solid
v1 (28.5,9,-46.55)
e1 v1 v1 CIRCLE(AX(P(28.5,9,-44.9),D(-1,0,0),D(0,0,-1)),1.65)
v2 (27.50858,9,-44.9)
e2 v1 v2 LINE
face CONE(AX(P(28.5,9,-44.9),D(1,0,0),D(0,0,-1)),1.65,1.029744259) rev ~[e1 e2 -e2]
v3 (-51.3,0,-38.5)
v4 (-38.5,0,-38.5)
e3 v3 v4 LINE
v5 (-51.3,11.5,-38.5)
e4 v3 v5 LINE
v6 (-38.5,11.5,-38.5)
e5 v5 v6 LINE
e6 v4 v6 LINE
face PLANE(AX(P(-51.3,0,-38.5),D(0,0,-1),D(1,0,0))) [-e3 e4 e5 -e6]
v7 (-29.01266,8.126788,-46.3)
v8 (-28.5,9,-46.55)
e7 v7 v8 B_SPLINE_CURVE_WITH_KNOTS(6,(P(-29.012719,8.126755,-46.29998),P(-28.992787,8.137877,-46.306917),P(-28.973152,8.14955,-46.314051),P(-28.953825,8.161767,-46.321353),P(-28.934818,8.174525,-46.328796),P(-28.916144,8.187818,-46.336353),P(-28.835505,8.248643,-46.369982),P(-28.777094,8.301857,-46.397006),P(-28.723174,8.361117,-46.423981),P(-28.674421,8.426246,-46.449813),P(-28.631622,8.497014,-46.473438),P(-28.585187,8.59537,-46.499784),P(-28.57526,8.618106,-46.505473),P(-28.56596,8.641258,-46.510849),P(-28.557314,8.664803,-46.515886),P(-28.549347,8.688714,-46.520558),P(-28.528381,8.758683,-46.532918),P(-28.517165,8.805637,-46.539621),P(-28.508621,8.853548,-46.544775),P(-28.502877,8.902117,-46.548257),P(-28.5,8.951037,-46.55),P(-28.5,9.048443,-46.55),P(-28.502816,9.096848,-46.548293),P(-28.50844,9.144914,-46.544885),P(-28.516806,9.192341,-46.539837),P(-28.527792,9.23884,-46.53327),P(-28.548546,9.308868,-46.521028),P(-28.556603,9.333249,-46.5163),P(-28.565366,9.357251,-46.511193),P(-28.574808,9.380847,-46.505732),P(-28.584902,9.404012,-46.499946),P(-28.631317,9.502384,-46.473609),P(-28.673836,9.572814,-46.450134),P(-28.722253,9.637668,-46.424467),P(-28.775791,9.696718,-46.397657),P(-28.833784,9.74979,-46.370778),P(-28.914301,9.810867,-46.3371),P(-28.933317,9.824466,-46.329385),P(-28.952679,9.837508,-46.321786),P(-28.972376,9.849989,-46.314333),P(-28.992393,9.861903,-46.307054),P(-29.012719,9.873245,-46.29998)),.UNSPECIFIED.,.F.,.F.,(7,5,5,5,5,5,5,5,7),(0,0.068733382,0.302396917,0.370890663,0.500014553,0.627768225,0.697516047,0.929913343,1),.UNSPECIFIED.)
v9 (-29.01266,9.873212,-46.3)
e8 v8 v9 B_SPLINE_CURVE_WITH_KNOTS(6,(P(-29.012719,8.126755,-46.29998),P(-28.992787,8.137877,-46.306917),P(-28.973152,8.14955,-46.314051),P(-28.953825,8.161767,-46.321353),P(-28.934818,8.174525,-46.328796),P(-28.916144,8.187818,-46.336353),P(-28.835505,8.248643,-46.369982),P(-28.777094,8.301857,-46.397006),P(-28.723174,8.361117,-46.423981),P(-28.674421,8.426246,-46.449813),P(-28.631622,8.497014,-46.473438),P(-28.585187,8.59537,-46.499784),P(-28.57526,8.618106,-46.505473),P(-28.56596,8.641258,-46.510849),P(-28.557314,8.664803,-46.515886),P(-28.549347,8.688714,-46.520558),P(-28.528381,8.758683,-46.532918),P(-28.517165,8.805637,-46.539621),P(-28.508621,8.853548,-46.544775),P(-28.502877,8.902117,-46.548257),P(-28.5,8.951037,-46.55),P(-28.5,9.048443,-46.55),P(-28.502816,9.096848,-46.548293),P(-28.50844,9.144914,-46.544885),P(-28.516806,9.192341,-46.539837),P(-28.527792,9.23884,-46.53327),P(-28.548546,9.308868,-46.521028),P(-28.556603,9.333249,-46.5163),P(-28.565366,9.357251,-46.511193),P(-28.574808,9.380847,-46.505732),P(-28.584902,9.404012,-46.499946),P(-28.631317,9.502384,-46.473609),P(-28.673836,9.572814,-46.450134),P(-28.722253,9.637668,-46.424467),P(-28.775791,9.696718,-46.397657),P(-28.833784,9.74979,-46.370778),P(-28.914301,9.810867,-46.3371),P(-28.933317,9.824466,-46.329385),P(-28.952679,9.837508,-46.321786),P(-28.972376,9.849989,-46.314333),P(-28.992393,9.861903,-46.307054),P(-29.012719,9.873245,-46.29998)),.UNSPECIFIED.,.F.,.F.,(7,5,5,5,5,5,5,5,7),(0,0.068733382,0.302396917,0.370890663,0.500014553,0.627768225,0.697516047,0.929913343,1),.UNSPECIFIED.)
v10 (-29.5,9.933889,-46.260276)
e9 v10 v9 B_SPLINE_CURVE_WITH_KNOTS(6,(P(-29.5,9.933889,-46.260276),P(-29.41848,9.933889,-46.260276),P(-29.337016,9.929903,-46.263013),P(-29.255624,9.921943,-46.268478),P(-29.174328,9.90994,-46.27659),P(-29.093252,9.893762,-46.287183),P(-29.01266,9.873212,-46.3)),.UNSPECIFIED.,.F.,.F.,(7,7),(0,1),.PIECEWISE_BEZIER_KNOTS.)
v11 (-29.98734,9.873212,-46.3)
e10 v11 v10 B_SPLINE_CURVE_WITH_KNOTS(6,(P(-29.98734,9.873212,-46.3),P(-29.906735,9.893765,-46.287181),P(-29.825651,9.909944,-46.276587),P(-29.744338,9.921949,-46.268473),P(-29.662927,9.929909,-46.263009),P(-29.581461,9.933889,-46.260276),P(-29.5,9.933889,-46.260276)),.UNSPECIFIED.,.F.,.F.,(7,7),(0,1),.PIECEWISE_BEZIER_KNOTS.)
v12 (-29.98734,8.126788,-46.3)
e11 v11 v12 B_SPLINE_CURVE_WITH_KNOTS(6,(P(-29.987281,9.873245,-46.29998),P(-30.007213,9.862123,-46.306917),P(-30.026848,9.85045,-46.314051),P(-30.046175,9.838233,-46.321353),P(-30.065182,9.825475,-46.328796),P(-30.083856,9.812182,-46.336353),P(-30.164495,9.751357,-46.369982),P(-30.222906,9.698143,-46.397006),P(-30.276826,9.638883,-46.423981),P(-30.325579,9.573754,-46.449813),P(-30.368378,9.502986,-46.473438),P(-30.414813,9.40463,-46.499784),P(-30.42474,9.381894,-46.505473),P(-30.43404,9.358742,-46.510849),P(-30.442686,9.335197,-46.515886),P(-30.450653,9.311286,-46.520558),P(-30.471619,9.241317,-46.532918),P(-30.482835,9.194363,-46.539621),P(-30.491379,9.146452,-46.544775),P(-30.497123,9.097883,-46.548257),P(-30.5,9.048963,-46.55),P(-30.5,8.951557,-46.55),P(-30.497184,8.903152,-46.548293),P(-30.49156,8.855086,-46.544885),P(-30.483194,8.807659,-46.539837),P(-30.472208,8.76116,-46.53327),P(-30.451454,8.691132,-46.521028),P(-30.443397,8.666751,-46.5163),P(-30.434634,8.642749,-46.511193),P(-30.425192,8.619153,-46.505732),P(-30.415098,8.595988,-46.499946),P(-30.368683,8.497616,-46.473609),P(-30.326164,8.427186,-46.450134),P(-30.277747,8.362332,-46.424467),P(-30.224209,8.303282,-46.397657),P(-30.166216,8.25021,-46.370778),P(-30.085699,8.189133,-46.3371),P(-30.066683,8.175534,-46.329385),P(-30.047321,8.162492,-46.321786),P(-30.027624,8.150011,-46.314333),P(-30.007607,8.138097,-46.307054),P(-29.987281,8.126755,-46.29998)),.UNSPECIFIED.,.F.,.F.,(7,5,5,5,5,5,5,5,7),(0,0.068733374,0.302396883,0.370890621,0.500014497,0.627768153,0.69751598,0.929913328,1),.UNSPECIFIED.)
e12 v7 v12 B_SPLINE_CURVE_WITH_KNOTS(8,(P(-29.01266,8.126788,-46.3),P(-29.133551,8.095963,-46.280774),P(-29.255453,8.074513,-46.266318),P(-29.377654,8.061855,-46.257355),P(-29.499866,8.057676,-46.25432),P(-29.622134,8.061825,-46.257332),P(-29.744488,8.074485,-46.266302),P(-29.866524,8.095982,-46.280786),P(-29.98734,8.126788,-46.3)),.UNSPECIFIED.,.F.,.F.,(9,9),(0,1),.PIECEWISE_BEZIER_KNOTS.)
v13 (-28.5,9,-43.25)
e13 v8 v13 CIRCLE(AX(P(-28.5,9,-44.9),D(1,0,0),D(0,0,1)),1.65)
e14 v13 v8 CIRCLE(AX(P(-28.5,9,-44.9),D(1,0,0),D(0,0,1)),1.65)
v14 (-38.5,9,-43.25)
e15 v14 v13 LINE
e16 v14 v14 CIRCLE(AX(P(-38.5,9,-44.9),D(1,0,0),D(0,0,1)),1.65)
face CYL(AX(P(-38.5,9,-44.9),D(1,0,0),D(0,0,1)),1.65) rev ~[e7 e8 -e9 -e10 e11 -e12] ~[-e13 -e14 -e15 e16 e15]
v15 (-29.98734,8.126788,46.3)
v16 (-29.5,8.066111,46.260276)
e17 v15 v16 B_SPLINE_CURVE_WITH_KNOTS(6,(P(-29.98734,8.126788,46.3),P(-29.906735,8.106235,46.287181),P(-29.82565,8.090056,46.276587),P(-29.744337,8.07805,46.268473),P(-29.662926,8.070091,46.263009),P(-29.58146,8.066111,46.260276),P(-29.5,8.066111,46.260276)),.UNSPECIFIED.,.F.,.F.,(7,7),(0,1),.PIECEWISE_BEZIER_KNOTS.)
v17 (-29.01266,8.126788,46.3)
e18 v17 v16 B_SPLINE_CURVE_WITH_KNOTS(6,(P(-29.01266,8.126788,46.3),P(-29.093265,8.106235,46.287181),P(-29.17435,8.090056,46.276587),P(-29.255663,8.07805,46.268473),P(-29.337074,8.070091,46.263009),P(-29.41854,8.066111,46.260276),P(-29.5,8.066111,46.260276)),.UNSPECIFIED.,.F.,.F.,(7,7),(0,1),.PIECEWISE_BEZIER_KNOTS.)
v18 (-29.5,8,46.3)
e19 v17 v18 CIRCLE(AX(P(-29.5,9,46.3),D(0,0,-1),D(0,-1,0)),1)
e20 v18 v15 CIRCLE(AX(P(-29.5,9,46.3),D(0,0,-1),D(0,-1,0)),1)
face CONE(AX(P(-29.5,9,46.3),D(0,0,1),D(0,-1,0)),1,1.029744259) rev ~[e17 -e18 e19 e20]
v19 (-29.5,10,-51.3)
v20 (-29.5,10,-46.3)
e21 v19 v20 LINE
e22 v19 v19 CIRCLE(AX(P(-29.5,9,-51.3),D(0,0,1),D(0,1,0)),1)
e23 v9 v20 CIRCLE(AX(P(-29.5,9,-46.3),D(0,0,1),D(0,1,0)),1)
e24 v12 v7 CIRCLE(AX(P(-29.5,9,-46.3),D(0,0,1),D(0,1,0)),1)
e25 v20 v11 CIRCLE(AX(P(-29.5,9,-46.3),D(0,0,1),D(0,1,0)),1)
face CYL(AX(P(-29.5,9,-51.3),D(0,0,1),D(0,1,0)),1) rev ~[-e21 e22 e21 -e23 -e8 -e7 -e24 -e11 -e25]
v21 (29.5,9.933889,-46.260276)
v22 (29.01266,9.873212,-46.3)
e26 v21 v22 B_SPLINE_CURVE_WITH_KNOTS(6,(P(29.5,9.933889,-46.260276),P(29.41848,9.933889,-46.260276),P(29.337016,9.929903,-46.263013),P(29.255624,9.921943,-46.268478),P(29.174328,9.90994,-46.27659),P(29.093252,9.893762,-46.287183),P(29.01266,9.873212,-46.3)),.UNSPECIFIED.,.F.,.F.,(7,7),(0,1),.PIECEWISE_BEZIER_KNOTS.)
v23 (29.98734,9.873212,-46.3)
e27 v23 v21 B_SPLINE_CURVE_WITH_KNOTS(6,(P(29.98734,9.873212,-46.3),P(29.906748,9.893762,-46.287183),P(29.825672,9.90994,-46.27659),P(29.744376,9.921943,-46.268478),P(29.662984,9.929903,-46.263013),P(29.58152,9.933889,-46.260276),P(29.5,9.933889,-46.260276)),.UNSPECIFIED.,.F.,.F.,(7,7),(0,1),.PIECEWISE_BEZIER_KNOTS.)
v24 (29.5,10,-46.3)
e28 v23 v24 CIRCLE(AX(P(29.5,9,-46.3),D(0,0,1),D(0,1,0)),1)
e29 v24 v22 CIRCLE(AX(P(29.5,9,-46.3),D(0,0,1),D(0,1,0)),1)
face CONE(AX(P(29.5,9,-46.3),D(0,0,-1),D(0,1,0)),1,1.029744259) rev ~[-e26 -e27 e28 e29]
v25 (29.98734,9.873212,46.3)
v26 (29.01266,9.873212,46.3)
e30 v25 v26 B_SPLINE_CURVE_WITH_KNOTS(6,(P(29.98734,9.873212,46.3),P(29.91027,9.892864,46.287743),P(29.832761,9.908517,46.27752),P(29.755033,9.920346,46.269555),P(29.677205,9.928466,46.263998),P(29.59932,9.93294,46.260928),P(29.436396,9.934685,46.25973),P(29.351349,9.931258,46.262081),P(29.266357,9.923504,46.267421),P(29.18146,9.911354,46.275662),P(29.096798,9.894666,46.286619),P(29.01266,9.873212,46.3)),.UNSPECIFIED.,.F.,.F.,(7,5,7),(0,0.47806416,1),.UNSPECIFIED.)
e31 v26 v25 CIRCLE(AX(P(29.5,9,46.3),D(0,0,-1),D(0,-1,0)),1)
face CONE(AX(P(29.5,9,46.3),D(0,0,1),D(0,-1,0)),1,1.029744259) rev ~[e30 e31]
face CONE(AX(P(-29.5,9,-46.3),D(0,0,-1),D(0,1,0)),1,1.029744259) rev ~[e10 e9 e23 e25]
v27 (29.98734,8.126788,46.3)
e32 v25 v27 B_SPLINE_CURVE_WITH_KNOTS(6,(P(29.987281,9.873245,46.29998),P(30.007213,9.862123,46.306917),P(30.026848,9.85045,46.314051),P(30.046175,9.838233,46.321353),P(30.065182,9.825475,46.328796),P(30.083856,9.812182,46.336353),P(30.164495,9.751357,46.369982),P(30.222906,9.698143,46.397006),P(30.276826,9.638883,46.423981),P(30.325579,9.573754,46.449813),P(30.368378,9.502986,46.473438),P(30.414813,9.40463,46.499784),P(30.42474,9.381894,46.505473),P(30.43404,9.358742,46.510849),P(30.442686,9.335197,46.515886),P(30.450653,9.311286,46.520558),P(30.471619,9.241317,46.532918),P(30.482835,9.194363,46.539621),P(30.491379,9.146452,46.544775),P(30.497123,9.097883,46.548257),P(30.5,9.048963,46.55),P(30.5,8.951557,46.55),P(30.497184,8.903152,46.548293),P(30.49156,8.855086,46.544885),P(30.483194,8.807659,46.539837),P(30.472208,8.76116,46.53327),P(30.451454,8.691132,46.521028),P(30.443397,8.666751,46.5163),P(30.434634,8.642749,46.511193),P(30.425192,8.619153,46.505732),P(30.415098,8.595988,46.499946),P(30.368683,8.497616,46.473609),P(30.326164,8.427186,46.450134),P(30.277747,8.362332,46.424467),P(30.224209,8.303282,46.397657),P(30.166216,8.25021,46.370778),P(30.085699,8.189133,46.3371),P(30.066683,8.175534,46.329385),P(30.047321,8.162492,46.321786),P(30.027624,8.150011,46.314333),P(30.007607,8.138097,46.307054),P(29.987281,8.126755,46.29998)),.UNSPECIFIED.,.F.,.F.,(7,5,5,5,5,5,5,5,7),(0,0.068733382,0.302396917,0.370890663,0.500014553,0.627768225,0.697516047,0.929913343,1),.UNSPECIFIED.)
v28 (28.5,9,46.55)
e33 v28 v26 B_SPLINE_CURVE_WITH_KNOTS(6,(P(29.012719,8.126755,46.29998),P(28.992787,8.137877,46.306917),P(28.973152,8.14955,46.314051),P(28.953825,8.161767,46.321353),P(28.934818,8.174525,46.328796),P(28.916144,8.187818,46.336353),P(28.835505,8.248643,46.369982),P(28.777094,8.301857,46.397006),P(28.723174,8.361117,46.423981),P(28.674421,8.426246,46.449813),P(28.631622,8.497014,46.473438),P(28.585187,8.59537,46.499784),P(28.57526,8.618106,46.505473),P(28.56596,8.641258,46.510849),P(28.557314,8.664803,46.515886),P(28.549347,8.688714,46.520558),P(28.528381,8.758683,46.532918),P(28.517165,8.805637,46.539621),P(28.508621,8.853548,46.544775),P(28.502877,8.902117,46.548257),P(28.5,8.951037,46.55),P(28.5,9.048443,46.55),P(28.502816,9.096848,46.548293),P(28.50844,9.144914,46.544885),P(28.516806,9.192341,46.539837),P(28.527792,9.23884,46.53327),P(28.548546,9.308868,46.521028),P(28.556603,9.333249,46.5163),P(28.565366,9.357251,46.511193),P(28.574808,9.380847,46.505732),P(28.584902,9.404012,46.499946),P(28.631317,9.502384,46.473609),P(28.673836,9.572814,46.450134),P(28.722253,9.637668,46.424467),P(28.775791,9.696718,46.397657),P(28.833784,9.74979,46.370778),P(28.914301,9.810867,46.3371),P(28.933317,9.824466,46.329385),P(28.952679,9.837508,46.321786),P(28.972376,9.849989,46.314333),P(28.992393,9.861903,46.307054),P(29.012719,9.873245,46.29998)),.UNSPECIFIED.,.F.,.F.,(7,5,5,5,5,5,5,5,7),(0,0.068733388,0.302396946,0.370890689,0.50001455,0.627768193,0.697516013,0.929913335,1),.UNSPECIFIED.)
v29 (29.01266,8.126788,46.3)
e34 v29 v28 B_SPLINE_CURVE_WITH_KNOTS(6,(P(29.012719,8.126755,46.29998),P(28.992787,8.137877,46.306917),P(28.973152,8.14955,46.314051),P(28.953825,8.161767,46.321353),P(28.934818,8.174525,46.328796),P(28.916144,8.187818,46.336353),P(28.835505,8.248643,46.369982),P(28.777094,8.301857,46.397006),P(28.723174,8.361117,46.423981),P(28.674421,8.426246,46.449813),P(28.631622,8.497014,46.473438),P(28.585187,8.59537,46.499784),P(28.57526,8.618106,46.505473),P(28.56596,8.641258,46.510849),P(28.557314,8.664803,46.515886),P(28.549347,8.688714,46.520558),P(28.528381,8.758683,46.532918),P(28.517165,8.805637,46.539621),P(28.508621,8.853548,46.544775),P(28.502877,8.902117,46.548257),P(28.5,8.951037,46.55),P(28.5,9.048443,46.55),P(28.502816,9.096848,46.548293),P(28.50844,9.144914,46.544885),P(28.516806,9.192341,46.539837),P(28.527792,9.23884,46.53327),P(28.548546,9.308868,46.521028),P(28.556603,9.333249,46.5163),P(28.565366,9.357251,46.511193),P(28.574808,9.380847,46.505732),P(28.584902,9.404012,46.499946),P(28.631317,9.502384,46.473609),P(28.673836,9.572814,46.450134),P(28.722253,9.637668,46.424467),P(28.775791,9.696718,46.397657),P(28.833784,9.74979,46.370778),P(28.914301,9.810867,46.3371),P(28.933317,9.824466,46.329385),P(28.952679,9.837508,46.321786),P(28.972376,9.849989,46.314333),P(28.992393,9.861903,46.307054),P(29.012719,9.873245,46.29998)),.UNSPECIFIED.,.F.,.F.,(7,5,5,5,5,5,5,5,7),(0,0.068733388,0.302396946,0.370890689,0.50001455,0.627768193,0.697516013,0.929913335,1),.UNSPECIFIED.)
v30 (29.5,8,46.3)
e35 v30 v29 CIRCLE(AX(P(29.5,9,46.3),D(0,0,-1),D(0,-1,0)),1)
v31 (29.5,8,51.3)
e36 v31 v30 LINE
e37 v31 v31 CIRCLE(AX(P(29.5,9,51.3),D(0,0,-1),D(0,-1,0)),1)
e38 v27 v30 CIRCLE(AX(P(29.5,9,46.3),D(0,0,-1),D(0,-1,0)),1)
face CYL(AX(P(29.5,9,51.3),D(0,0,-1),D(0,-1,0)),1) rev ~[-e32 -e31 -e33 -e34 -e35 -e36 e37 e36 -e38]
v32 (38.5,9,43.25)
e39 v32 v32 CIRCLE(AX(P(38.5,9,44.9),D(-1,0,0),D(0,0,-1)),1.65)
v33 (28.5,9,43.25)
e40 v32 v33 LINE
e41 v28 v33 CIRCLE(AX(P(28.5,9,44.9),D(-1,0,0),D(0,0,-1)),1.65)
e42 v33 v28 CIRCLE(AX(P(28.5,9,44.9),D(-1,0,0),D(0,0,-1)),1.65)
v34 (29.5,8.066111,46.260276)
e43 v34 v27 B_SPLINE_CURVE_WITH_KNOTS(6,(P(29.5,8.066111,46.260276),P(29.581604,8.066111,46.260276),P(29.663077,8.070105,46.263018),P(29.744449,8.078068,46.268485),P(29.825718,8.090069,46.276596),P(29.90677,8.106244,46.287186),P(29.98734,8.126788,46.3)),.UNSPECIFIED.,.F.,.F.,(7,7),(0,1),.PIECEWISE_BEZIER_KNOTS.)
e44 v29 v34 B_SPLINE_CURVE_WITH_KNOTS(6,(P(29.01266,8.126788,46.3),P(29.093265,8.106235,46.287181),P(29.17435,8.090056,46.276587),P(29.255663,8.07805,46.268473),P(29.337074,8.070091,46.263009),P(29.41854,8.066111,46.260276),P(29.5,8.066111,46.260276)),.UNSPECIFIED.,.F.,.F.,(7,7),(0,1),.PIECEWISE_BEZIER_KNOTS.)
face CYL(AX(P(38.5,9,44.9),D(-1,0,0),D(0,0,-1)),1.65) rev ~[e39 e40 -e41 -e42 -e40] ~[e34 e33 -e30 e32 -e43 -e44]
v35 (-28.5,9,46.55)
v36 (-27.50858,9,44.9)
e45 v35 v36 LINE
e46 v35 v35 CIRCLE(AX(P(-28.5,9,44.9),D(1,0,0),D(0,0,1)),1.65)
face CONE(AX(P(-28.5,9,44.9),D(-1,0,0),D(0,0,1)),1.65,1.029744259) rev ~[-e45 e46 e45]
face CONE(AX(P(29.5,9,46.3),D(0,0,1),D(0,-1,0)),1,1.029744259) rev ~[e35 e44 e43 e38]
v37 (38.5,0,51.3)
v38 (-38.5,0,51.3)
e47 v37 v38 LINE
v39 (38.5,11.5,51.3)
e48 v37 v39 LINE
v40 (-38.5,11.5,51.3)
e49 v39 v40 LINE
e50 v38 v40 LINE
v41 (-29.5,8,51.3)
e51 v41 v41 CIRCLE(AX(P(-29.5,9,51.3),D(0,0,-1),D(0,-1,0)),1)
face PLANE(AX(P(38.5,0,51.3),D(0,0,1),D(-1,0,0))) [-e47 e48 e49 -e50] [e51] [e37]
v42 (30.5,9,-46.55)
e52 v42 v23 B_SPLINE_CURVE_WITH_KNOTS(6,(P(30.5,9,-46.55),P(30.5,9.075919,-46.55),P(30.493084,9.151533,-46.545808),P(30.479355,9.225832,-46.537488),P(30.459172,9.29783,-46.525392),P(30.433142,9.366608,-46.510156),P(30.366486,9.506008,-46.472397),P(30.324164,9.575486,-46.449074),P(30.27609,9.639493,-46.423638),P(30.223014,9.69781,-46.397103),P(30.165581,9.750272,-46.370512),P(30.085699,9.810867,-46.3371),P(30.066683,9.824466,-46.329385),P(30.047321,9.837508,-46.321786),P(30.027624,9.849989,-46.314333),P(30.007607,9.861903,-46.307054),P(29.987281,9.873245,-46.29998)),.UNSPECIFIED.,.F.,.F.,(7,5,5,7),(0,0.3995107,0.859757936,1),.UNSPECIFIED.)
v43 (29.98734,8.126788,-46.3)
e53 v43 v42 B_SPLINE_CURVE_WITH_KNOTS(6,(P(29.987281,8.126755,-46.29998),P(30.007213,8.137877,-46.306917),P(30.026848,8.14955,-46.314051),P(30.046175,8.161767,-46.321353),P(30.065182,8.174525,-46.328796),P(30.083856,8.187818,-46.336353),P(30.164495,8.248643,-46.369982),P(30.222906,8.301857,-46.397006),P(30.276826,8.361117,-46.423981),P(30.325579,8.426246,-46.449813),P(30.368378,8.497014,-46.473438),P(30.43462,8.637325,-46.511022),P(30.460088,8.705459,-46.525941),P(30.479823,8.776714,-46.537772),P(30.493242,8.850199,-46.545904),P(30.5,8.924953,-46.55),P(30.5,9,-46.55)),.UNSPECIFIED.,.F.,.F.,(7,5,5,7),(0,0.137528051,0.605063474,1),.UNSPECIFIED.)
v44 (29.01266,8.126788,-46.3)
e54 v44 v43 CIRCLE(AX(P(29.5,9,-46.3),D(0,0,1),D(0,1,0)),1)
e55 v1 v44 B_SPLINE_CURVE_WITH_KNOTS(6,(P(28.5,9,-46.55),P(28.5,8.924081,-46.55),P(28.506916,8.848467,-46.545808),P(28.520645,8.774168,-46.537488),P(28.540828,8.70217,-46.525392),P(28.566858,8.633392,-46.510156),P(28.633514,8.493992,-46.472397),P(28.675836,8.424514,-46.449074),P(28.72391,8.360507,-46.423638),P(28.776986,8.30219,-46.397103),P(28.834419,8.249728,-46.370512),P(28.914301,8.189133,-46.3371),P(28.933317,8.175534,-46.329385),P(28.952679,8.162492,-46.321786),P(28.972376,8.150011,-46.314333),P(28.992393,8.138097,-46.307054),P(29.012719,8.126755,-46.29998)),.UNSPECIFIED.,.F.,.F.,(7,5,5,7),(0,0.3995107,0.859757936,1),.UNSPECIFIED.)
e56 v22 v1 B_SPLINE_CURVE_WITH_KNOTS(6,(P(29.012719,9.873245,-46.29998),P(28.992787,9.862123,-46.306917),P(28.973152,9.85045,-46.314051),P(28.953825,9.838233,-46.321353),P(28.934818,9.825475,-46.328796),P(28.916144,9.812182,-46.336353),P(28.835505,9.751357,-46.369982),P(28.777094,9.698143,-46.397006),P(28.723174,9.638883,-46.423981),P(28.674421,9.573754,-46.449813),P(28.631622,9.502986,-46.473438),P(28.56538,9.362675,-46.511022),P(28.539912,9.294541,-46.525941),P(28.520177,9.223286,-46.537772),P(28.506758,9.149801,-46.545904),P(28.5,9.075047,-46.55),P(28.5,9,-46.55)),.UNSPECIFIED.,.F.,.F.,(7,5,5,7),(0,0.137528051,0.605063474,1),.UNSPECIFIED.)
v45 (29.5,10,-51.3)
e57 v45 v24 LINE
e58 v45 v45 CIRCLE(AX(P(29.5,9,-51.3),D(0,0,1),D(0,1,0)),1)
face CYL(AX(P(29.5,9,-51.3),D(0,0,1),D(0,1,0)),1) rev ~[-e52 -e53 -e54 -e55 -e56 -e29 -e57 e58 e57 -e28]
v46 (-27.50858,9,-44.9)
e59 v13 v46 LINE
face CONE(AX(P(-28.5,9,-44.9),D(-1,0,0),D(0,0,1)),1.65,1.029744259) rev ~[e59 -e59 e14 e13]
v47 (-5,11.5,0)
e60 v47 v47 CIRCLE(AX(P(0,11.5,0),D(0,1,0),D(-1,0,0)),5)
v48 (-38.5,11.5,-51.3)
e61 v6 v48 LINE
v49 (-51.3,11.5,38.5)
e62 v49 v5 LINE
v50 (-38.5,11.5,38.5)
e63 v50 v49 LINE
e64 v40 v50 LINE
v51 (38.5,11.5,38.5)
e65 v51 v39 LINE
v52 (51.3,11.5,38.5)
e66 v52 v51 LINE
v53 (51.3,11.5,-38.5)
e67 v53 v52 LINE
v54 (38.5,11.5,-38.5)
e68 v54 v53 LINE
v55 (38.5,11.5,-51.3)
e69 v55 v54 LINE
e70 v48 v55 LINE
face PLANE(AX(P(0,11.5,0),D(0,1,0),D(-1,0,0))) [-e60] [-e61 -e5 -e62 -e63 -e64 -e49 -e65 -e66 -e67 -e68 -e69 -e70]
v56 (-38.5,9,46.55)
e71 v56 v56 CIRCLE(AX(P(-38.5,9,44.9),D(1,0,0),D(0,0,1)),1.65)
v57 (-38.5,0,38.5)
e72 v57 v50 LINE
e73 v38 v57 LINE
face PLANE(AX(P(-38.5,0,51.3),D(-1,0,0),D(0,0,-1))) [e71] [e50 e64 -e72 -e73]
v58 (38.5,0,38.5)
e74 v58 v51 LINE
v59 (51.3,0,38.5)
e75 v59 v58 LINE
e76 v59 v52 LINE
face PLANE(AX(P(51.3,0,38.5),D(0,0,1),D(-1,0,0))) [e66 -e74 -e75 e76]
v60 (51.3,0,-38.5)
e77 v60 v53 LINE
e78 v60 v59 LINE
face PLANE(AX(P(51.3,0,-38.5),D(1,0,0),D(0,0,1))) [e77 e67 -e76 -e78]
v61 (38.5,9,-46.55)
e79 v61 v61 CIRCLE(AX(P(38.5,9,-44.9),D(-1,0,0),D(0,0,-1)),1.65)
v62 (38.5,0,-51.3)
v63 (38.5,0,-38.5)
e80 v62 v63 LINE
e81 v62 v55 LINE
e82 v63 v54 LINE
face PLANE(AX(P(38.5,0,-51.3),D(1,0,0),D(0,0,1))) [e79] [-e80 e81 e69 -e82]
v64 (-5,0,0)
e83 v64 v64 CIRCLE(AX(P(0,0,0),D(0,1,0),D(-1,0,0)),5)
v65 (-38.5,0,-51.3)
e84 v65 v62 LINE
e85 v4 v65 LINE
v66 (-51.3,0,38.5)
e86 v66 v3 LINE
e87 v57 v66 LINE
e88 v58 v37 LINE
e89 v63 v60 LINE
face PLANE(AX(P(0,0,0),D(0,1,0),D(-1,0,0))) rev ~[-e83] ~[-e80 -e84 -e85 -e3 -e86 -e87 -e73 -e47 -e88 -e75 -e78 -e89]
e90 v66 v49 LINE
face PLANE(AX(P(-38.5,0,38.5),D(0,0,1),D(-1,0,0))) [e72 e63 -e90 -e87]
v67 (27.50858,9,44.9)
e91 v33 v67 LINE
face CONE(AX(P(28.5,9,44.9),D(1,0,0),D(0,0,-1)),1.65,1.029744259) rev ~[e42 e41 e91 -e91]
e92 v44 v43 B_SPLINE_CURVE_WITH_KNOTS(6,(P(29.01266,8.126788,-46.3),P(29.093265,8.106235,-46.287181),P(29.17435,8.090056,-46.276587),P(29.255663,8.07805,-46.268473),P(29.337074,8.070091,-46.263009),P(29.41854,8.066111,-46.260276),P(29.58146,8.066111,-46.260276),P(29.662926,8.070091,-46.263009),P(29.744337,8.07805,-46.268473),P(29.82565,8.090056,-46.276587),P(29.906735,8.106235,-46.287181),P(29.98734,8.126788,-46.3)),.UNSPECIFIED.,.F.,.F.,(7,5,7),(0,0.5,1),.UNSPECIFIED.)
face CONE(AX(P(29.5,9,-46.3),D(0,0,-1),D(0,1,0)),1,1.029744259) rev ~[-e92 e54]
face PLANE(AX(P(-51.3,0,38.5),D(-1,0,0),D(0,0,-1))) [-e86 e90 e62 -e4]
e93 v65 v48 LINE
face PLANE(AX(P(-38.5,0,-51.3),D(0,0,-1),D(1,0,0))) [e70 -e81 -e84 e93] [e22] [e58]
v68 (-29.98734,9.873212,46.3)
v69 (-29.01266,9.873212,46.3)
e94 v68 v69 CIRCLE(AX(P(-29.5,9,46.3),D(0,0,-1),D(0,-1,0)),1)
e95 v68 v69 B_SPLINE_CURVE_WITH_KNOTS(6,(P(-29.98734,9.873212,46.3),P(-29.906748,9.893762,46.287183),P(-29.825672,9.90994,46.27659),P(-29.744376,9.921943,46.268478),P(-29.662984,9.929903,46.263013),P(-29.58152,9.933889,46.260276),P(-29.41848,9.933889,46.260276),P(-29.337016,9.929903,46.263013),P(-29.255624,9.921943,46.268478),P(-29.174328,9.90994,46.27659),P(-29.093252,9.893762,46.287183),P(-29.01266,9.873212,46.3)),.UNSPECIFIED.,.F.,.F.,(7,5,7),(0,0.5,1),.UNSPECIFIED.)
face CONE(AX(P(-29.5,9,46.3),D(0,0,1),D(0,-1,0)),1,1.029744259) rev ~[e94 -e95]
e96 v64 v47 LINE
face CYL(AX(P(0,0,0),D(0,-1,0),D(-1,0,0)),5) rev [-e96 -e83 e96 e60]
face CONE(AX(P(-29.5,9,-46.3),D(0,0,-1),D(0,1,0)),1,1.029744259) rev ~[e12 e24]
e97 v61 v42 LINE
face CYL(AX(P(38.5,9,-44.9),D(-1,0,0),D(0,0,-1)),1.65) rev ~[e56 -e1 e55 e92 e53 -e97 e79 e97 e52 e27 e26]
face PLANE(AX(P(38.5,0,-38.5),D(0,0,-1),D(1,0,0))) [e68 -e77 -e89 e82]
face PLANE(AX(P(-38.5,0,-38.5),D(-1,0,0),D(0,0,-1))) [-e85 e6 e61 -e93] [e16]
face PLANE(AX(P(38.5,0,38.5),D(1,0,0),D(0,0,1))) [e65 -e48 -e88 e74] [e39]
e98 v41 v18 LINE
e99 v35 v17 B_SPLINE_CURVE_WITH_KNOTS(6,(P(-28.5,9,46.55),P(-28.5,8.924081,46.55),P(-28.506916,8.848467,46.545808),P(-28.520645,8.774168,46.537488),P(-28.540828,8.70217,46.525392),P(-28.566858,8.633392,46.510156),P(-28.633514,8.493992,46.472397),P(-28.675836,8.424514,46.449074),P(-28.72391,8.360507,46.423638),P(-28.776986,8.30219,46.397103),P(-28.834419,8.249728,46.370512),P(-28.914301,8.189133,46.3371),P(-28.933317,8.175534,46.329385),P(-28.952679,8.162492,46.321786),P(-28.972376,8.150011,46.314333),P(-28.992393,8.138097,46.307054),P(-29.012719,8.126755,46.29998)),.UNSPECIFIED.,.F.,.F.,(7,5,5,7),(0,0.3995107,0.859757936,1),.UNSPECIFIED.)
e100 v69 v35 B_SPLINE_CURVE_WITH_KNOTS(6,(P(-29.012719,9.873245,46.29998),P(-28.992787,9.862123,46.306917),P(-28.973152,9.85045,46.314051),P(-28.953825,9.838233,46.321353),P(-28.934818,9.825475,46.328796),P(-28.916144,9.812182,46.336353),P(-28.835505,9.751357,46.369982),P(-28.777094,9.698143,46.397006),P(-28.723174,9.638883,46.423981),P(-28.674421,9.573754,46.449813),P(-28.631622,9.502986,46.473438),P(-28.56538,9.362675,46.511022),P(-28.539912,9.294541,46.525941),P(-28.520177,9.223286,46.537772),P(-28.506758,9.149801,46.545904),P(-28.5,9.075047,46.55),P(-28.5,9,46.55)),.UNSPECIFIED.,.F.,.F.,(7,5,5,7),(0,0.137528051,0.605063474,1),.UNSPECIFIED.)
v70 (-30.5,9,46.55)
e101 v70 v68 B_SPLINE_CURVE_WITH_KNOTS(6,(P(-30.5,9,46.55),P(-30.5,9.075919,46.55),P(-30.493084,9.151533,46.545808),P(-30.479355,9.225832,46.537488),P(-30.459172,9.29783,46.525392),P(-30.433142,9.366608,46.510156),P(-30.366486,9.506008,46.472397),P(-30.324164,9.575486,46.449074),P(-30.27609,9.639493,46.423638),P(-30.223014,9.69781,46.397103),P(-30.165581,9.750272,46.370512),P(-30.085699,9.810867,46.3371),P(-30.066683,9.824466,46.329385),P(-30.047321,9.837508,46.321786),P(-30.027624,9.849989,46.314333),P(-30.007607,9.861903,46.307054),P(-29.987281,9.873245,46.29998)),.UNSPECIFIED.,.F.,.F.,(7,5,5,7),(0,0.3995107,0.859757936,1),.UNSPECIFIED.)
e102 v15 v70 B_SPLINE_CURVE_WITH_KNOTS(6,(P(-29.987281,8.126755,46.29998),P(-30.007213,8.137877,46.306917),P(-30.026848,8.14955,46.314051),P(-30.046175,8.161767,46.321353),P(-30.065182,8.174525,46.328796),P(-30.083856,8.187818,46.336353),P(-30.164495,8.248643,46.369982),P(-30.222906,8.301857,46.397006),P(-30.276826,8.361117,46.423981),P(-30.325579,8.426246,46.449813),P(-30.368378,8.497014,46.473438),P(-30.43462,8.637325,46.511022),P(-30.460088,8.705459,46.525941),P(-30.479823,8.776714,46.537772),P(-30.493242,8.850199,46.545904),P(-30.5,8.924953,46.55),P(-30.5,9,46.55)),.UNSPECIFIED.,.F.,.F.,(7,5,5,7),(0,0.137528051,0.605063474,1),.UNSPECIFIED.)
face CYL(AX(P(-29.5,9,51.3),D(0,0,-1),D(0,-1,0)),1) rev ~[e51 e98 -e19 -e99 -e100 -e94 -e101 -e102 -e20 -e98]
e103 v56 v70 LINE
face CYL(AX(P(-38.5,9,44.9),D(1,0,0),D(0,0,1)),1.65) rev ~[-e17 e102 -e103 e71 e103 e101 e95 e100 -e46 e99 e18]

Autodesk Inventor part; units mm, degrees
ref_plane "YZ Plane" through (0, 0, 0) normal (1, 0, 0) x (0, 1, 0)
ref_plane "XZ Plane" through (0, 0, 0) normal (0, 1, 0) x (-1, 0, 0)
ref_plane "XY Plane" through (0, 0, 0) normal (0, 0, 1) x (1, 0, 0)
sketch "Sketch1" plane through (0, 0, 0) normal (0, 1, 0) x (-1, 0, 0)
  line L0 (51.3, 38.5) -> (51.3, -38.5)
  line L1 (51.3, -38.5) -> (38.5, -38.5)
  line L2 (38.5, -38.5) -> (38.5, -51.3)
  line L3 (38.5, -51.3) -> (-38.5, -51.3)
  line L4 (-38.5, -51.3) -> (-38.5, -38.5)
  line L5 (-38.5, -38.5) -> (-51.3, -38.5)
  line L6 (-51.3, -38.5) -> (-51.3, 38.5)
  line L7 (-51.3, 38.5) -> (-38.5, 38.5)
  line L8 (-38.5, 38.5) -> (-38.5, 51.3)
  line L9 (-38.5, 51.3) -> (38.5, 51.3)
  line L10 (38.5, 51.3) -> (38.5, 38.5)
  line L11 (38.5, 38.5) -> (51.3, 38.5)
  circle A0 centre (0, 0) radius 5
  dimension "d0" = 77
  dimension "d1" = 12.8
  dimension "d2" = 12.8
  dimension "d3" = 77
  dimension "d4" = 12.8
  dimension "d5" = 12.8
  dimension "d6" = 77
  dimension "d7" = 12.8
  dimension "d8" = 12.8
  dimension "d9" = 77
  dimension "d10" = 12.8
  dimension "d11" = 12.8
  dimension "d12" = 38.5
  dimension "d13" = 51.3
  dimension "d14" = 10
extrude "Extrusion1" add sketch "Sketch1" along normal blind 11.5
sketch "Sketch2" plane through (38.5, 0, 51.3) normal (1, 0, 0) x (0, 0, -1)
  circle A0 centre (6.4, 9) radius 1.65
  line L0 (0, 0) -> (0, 11.5) projected
  line L1 (0, 11.5) -> (12.8, 11.5) projected
  point P0 (51.3, 0)
  dimension "d17" = 3.3
  dimension "d18" = 6.4
  dimension "d19" = 2.5
hole "Hole1" at (38.5, 9, 44.9) direction (-1, 0, 0) diameter 3.3 depth 10 tip angle 118
thread "Thread1" size "M3.5x0.6" class "6H" standard "ANSI Metric M Profile" full length
sketch "Sketch3" plane through (-38.5, 0, 51.3) normal (0, 0, 1) x (1, 0, 0)
  circle A0 centre (68, 9) radius 0.5
  line L0 (0, 11.5) -> (77, 11.5) projected
  line L1 (77, 0) -> (77, 11.5) projected
  point P0 (38.5, 0)
  dimension "d29" = 1
  dimension "d30" = 2.5
  dimension "d31" = 9
hole "Hole2" at (29.5, 9, 51.3) direction (0, 0, -1) diameter 2 depth 5 tip angle 118
sketch "Sketch4" plane through (-38.5, 0, 38.5) normal (-1, 0, 0) x (0, 0, 1)
  circle A0 centre (6.4, 9) radius 1.65
  line L0 (0, 11.5) -> (12.8, 11.5) projected
  line L1 (12.8, 0) -> (12.8, 11.5) projected
  point P0 (-38.5, 0)
  dimension "d39" = 3.3
  dimension "d40" = 2.5
  dimension "d41" = 6.4
hole "Hole3" at (-38.5, 9, 44.9) direction (1, 0, 0) diameter 3.3 depth 10 tip angle 118
thread "Thread2" size "M3.5x0.6" class "6H" standard "ANSI Metric M Profile" full length
sketch "Sketch5" plane through (-38.5, 0, 51.3) normal (0, 0, 1) x (1, 0, 0)
  circle A0 centre (9, 9) radius 1
  line L0 (0, 0) -> (0, 11.5) projected
  line L1 (0, 11.5) -> (77, 11.5) projected
  point P0 (38.5, 0)
  dimension "d51" = 2
  dimension "d52" = 9
  dimension "d53" = 2.5
hole "Hole4" at (-29.5, 9, 51.3) direction (0, 0, -1) diameter 2 depth 5 tip angle 118
sketch "Sketch6" plane through (38.5, 0, -38.5) normal (1, 0, 0) x (0, 0, -1)
  circle A0 centre (6.4, 9) radius 1.65
  line L0 (0, 11.5) -> (12.8, 11.5) projected
  line L1 (12.8, 0) -> (12.8, 11.5) projected
  point P0 (-38.5, 0)
  dimension "d61" = 3.3
  dimension "d62" = 2.5
  dimension "d63" = 6.4
hole "Hole5" at (38.5, 9, -44.9) direction (-1, 0, 0) diameter 3.3 depth 10 tip angle 118
thread "Thread3" size "M3.5x0.6" class "6H" standard "ANSI Metric M Profile" full length
sketch "Sketch7" plane through (38.5, 0, -51.3) normal (0, 0, -1) x (-1, 0, 0)
  circle A0 centre (9, 9) radius 1
  line L0 (0, 0) -> (0, 11.5) projected
  line L1 (0, 11.5) -> (77, 11.5) projected
  point P0 (38.5, 0)
  dimension "d73" = 2
  dimension "d74" = 9
  dimension "d75" = 2.5
hole "Hole6" at (29.5, 9, -51.3) direction (0, 0, 1) diameter 2 depth 5 tip angle 118
sketch "Sketch8" plane through (-38.5, 0, -51.3) normal (-1, 0, 0) x (0, 0, 1)
  circle A0 centre (6.4, 9) radius 1.65
  line L0 (0, 11.5) -> (12.8, 11.5) projected
  line L1 (0, 0) -> (0, 11.5) projected
  point P0 (51.3, 0)
  dimension "d83" = 3.3
  dimension "d84" = 2.5
  dimension "d85" = 6.4
hole "Hole7" at (-38.5, 9, -44.9) direction (1, 0, 0) diameter 3.3 depth 10 tip angle 118
thread "Thread4" size "M3.5x0.6" class "6H" standard "ANSI Metric M Profile" full length
sketch "Sketch9" plane through (38.5, 0, -51.3) normal (0, 0, -1) x (-1, 0, 0)
  circle A0 centre (68, 9) radius 1
  line L0 (0, 11.5) -> (77, 11.5) projected
  line L1 (77, 0) -> (77, 11.5) projected
  point P0 (38.5, 0)
  dimension "d95" = 2
  dimension "d96" = 2.5
  dimension "d97" = 9
hole "Hole8" at (-29.5, 9, -51.3) direction (0, 0, 1) diameter 2 depth 5 tip angle 118
properties part number "PEEKplate"
